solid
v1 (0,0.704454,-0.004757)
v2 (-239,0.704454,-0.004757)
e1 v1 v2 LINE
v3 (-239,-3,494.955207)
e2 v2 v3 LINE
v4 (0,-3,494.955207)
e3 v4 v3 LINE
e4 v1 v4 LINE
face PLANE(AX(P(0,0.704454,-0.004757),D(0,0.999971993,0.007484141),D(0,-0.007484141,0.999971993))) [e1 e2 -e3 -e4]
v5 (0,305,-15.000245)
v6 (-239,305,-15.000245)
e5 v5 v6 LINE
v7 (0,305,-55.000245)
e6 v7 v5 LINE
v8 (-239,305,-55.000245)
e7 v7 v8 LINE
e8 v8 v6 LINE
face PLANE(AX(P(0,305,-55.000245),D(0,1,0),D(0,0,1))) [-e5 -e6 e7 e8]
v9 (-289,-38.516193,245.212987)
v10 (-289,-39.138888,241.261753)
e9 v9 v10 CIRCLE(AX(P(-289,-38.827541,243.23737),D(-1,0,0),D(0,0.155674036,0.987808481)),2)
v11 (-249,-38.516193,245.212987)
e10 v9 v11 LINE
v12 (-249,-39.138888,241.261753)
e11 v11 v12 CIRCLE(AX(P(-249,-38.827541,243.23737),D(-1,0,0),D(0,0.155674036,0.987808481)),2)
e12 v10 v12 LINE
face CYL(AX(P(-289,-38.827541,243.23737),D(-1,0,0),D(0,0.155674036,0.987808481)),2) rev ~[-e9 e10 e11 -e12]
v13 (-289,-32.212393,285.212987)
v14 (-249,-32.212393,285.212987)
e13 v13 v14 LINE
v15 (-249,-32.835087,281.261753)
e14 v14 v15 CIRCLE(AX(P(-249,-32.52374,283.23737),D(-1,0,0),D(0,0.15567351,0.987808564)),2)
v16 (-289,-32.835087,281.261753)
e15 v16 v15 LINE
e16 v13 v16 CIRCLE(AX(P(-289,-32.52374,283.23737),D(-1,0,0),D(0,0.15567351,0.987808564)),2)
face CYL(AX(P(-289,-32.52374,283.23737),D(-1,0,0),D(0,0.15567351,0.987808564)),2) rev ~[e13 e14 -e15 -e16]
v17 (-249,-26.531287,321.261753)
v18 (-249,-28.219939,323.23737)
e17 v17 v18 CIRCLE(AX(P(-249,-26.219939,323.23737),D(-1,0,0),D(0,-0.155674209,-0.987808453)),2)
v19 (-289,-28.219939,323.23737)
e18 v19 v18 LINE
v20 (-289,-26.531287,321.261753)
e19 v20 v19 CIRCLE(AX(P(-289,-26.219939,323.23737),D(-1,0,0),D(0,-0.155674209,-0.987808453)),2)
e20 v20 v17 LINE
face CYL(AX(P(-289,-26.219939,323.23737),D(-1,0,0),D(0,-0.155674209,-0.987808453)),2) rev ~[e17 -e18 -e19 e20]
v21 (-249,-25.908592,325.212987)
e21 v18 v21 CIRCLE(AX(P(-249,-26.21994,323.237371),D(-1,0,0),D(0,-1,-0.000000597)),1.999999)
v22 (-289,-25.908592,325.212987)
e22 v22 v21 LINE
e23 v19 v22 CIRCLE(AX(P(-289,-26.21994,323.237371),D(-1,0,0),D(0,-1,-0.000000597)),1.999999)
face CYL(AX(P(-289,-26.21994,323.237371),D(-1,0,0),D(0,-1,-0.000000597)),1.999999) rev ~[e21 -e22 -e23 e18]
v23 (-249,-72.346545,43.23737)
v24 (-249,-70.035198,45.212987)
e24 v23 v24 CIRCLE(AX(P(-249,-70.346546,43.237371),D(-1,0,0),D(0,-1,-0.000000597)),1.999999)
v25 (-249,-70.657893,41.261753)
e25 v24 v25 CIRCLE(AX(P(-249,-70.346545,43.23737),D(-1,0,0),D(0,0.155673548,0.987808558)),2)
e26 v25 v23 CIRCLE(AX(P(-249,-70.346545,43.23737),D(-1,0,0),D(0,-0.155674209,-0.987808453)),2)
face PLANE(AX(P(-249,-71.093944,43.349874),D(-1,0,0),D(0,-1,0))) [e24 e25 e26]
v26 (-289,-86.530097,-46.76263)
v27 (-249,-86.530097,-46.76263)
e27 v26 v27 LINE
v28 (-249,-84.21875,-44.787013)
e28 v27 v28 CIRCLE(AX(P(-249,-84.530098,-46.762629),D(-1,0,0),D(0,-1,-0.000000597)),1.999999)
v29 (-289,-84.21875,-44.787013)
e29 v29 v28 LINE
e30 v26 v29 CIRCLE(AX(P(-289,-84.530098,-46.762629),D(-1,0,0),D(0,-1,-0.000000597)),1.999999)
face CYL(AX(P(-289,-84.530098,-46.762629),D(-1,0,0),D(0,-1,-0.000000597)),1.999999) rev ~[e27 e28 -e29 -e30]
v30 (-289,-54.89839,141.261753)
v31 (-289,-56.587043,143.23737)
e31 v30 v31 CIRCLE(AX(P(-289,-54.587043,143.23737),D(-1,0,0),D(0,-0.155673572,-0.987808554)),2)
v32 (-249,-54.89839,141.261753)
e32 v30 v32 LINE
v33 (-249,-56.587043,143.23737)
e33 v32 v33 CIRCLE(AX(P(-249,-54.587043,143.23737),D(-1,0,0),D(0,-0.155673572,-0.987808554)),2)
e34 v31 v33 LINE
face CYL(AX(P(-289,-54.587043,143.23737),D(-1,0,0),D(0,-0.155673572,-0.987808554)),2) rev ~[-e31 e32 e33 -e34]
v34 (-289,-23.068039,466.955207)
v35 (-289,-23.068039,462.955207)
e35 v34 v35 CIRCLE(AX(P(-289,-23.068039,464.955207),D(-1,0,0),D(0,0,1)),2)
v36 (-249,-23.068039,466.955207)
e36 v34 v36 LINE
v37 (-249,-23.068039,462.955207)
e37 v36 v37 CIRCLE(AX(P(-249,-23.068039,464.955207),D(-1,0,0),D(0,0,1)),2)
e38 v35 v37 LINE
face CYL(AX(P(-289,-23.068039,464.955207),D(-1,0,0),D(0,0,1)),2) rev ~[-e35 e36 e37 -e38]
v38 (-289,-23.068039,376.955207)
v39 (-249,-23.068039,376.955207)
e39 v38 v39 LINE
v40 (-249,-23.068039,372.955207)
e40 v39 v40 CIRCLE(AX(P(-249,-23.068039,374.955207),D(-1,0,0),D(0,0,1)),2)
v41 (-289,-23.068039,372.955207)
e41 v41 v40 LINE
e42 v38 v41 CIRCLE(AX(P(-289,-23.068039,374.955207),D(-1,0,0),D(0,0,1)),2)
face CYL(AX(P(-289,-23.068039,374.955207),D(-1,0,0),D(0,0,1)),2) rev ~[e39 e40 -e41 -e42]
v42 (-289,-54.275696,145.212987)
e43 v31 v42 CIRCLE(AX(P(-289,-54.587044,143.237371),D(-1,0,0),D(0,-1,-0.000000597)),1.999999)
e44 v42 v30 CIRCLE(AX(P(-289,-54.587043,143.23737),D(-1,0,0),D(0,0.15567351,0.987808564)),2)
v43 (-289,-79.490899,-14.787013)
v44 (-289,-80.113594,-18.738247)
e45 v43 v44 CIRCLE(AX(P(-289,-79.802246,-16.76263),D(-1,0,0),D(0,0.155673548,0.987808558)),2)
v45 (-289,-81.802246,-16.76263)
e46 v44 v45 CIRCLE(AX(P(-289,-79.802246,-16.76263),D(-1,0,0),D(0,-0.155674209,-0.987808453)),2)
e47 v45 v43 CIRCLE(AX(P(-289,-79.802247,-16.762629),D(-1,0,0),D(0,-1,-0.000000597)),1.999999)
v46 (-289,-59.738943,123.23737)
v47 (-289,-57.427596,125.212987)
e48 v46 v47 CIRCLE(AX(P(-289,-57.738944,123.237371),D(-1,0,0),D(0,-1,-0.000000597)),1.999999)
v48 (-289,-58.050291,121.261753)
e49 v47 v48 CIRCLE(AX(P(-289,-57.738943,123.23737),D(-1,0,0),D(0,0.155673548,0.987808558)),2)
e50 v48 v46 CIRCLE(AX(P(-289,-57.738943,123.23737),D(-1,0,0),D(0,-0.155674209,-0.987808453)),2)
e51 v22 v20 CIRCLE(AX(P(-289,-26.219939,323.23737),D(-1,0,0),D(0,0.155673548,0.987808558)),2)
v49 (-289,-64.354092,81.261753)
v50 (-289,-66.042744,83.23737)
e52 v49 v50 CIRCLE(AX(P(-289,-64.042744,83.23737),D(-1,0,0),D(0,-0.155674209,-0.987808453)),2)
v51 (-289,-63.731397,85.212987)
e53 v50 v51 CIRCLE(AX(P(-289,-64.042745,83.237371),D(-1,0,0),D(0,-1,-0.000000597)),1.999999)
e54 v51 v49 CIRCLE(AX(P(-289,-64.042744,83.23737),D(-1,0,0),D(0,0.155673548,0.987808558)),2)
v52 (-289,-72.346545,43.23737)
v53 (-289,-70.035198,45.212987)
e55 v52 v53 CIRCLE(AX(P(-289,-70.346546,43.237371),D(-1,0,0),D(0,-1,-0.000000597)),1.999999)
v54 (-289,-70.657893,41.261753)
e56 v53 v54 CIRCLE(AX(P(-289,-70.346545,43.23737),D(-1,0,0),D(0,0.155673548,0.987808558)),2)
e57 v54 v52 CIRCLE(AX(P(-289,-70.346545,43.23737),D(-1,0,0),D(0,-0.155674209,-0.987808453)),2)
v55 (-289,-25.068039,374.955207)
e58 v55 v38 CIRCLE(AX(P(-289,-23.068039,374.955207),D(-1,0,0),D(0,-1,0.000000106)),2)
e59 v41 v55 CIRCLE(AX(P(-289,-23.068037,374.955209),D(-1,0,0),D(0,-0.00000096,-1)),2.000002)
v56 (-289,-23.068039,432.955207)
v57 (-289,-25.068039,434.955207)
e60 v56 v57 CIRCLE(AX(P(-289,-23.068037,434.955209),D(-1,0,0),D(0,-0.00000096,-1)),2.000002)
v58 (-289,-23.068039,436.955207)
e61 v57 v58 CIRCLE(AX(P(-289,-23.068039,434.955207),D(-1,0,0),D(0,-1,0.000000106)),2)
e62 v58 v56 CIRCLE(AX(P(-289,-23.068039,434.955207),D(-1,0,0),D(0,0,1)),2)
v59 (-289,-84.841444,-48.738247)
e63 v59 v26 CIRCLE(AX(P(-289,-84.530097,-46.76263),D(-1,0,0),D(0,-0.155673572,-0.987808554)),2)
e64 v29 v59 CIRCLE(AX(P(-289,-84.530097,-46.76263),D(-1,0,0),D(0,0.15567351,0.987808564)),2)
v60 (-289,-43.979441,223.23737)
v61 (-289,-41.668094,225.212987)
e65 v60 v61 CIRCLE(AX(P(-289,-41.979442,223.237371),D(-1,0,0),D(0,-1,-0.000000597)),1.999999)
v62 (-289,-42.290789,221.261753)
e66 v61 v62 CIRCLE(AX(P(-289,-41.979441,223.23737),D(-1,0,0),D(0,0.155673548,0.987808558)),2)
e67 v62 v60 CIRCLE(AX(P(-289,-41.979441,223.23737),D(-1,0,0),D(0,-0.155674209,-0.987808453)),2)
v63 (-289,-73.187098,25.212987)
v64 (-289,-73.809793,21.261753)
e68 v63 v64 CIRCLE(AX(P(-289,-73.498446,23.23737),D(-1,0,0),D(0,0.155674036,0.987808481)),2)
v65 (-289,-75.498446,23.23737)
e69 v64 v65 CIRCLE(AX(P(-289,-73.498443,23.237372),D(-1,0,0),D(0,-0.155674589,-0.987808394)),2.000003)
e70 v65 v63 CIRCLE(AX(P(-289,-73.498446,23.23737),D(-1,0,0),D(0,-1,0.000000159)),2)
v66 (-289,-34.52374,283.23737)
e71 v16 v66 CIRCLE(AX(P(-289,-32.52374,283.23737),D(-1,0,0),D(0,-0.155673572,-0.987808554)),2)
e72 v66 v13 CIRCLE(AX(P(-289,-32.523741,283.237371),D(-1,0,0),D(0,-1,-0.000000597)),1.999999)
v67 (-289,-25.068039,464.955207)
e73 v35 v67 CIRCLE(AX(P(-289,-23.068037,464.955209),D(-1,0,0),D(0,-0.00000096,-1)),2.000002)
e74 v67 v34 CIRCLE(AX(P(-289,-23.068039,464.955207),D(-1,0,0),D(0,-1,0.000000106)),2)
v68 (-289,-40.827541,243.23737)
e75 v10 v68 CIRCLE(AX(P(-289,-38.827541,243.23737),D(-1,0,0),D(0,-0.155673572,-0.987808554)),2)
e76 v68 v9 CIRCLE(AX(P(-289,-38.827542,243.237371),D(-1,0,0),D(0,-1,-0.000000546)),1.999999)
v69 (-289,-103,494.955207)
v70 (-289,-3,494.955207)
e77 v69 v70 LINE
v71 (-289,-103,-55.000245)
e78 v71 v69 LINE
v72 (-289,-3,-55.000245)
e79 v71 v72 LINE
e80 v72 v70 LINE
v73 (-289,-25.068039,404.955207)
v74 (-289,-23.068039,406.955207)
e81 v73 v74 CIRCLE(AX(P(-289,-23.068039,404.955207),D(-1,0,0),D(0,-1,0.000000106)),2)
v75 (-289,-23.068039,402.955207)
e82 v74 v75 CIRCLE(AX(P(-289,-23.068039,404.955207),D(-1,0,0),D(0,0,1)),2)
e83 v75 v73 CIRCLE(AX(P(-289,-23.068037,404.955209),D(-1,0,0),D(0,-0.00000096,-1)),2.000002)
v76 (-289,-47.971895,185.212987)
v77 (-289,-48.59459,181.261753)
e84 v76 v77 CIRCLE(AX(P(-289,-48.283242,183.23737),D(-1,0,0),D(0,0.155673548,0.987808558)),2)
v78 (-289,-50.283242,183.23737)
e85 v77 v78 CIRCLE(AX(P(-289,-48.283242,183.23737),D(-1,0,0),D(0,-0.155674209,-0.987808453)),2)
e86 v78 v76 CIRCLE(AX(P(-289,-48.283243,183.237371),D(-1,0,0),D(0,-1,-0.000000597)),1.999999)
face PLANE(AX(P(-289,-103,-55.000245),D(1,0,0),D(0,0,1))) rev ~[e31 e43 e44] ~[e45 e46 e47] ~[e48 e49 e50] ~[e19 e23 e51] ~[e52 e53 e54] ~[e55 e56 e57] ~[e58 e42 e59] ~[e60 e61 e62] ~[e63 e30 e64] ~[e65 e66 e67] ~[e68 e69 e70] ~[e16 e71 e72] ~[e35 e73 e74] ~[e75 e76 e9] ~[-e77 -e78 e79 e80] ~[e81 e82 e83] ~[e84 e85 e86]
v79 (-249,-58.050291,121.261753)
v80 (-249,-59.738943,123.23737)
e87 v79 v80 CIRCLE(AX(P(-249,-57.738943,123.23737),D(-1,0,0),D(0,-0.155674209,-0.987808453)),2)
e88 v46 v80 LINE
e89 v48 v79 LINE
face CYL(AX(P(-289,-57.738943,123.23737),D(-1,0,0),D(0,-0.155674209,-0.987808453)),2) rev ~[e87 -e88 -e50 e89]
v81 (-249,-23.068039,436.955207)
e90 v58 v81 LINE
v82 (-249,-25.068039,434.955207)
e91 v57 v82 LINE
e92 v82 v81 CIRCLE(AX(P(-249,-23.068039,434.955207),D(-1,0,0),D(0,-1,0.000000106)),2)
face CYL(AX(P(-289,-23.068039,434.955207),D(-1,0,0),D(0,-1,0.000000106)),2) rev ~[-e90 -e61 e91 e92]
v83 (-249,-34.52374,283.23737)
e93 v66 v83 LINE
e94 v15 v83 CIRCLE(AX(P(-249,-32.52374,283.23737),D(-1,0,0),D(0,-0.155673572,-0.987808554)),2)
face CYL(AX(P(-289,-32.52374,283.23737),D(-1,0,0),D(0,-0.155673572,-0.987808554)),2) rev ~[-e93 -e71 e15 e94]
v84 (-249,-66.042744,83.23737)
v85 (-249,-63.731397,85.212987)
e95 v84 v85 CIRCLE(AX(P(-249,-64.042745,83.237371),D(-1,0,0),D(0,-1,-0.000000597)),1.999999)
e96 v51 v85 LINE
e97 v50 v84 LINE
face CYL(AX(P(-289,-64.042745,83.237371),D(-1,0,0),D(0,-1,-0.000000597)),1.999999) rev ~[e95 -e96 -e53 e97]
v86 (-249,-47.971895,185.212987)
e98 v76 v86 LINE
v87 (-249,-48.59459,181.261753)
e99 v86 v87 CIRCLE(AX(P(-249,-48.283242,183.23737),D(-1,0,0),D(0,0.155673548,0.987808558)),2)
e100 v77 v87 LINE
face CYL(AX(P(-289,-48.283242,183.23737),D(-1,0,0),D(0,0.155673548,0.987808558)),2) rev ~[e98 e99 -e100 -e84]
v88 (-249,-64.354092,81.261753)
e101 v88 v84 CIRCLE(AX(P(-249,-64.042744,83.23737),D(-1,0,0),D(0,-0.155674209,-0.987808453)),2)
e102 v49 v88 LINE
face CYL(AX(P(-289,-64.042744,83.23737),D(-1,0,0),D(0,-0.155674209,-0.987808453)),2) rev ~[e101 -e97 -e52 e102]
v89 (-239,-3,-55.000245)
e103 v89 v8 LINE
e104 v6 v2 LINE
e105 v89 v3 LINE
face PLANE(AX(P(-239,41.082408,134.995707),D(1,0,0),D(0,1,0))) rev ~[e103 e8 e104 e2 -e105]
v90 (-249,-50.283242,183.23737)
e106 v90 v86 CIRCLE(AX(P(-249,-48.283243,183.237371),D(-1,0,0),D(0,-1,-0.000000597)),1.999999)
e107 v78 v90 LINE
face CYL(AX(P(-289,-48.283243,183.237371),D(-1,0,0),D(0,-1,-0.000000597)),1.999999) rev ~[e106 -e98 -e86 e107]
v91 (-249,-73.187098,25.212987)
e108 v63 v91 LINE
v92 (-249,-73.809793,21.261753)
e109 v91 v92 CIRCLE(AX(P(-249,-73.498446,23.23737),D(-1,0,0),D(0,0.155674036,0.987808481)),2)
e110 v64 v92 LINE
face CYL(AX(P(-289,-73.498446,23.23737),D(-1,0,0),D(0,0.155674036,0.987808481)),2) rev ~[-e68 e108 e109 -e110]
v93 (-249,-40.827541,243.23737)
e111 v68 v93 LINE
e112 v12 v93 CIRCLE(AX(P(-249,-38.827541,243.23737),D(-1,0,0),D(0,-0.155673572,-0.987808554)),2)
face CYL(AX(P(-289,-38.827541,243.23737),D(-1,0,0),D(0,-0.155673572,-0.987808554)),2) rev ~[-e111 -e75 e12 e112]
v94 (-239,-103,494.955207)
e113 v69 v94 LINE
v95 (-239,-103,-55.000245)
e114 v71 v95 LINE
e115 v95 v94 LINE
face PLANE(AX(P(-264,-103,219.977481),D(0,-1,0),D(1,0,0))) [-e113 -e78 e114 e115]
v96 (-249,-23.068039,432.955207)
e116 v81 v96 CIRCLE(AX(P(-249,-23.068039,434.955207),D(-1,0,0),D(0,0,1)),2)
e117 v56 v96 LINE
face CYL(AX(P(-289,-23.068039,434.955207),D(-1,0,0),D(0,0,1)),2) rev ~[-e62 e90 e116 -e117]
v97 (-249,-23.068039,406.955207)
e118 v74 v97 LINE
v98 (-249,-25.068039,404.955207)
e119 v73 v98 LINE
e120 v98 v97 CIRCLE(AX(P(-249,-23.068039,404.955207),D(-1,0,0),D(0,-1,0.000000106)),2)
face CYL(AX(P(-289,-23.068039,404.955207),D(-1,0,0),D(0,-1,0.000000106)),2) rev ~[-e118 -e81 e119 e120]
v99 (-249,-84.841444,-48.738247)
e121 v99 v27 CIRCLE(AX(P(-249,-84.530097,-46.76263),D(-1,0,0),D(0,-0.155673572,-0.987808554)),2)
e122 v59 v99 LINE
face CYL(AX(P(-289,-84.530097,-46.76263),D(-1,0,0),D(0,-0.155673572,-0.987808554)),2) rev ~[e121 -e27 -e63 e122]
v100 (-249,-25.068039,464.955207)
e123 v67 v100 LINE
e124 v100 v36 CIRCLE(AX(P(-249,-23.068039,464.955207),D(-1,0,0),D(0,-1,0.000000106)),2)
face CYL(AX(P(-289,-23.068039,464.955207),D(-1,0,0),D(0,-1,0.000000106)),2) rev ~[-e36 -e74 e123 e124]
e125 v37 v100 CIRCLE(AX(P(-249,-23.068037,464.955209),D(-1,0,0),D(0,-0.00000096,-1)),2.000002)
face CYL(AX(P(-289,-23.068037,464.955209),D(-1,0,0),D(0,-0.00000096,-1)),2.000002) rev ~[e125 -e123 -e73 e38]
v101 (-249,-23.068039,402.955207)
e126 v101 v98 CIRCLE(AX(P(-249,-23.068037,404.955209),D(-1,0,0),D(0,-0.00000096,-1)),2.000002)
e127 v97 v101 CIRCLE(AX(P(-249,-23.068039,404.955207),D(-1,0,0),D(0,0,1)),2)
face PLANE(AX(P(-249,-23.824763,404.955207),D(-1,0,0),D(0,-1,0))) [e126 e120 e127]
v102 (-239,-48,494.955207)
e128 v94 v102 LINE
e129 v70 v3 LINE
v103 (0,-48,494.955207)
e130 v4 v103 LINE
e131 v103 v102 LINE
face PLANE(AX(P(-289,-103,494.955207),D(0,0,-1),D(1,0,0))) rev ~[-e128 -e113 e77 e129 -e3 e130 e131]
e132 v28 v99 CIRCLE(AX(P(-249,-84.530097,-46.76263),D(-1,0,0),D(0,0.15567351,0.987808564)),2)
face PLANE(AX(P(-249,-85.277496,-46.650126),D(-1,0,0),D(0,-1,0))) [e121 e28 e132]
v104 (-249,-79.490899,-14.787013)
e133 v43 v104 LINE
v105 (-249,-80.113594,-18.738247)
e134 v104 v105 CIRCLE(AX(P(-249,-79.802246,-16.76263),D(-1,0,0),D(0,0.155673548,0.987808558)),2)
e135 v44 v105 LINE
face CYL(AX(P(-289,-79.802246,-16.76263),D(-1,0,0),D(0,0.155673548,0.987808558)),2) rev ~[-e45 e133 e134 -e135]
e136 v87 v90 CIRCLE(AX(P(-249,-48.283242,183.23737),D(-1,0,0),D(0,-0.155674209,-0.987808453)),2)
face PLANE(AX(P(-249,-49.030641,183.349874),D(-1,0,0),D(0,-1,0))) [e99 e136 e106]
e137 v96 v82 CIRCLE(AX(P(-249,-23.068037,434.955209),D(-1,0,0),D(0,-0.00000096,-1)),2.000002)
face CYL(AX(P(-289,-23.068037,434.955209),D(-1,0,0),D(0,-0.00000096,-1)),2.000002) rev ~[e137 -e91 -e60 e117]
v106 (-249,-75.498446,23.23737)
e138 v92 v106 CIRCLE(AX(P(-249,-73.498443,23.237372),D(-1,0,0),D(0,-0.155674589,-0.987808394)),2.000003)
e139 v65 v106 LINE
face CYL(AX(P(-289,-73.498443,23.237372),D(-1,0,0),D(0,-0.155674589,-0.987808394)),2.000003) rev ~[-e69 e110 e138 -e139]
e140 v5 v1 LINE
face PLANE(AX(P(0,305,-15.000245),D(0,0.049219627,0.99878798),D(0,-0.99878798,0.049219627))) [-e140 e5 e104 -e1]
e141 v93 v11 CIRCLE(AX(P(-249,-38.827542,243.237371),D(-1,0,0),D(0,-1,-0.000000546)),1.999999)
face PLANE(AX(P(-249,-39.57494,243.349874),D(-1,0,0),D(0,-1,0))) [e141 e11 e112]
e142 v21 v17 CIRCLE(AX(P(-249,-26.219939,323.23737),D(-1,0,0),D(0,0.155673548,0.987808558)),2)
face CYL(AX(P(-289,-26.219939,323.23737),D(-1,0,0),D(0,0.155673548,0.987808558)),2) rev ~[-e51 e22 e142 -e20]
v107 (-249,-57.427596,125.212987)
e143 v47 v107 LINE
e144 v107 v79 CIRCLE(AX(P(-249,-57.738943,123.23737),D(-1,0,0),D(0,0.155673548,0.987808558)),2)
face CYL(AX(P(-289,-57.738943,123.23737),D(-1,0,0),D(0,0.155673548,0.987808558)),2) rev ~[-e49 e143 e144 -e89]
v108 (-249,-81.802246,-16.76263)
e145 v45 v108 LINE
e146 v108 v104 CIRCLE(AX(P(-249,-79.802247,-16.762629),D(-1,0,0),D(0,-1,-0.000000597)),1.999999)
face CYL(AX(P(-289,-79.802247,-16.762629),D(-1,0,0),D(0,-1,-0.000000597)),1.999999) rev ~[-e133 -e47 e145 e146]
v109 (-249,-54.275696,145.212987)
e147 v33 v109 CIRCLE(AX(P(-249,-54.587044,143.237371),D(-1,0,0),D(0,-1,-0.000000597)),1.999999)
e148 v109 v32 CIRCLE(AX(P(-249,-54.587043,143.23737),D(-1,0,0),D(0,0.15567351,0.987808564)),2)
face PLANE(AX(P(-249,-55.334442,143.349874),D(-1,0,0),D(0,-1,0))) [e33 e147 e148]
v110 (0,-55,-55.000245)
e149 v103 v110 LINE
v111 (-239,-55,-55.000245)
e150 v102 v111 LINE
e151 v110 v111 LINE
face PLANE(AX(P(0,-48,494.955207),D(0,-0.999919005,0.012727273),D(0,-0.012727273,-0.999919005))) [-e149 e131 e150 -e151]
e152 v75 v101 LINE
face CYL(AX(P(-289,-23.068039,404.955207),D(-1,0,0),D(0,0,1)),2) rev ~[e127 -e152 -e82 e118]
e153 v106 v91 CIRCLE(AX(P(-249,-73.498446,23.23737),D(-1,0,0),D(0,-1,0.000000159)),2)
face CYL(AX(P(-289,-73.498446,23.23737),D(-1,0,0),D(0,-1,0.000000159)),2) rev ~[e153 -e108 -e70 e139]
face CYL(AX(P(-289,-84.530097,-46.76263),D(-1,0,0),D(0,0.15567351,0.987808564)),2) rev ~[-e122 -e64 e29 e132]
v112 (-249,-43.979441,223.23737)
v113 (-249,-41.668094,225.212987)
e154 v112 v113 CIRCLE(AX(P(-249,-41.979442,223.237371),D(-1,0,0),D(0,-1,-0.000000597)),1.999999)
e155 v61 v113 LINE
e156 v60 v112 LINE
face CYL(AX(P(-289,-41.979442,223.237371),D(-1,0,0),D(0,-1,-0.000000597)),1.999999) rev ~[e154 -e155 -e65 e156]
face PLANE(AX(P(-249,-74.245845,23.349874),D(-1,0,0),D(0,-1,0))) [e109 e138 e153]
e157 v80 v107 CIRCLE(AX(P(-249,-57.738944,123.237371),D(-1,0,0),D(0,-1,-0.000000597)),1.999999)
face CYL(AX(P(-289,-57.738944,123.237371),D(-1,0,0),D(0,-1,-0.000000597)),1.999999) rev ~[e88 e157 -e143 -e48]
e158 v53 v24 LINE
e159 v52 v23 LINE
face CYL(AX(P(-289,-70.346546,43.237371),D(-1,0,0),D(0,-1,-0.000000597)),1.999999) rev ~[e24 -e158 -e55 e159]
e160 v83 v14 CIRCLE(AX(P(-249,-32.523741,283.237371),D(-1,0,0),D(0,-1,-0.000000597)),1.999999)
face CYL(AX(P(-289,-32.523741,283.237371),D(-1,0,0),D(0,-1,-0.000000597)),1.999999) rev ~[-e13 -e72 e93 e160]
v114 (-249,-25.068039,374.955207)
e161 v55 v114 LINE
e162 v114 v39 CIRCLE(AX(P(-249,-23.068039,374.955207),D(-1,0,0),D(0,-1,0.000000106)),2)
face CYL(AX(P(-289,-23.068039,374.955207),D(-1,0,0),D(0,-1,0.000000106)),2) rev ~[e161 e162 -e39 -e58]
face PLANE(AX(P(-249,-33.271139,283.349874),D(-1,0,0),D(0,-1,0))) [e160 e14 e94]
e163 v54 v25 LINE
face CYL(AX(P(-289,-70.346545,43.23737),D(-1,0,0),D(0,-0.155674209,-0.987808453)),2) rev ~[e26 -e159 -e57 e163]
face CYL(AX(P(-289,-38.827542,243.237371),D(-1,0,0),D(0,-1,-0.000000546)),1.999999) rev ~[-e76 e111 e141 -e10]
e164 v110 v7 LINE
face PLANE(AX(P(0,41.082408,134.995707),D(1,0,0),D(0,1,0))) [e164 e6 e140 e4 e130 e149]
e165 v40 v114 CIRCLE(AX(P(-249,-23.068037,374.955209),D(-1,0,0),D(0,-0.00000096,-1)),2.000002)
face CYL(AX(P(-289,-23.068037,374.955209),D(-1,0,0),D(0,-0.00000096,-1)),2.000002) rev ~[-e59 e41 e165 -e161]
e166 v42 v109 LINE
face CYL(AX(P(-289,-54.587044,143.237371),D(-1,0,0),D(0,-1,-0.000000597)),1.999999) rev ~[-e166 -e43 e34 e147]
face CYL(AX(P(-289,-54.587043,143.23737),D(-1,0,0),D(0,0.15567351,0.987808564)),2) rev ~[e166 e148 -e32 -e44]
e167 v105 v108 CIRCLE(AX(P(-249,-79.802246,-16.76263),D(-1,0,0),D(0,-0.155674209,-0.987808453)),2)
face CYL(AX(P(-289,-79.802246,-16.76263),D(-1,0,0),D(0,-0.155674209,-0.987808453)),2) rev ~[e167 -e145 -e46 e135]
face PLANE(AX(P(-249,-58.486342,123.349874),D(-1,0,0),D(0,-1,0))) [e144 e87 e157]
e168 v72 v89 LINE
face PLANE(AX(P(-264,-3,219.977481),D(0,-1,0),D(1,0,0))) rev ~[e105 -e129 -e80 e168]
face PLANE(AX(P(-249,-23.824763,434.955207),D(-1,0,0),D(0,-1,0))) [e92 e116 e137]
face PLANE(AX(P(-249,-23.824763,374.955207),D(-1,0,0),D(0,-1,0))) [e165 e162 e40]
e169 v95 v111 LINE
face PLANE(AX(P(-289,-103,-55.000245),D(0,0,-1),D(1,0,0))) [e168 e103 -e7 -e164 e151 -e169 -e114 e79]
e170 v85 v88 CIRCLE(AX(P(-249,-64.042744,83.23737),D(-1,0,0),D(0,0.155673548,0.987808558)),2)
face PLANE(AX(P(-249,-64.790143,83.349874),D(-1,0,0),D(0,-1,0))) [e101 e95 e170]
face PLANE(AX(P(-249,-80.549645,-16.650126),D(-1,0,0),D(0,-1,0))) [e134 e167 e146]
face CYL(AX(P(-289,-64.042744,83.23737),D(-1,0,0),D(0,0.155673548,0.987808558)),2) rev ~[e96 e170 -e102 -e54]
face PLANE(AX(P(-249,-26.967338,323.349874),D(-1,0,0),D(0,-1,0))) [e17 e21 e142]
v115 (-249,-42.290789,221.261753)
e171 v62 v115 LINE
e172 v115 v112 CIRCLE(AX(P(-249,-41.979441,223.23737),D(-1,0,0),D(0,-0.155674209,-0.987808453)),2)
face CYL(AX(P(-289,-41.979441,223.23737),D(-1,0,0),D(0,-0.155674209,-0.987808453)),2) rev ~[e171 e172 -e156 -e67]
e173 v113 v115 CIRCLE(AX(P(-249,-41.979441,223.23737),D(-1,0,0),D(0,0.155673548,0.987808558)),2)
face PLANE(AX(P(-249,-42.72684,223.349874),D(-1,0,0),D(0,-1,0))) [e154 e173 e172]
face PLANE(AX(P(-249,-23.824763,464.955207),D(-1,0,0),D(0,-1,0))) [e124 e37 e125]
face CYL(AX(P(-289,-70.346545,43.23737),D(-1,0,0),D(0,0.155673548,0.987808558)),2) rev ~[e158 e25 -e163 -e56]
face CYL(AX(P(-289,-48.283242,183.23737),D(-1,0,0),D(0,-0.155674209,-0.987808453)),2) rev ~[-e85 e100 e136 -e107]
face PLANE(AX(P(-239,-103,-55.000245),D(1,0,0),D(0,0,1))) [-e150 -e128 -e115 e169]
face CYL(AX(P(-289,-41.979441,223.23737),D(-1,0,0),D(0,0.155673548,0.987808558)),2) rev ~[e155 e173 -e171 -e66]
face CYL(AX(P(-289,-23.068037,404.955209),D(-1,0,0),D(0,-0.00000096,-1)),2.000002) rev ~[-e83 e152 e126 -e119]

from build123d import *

# Parameters (mm, degrees)
F1_DEPTH = 239
F3_W     = 50
F3_H     = 549.955452
F4_DEPTH = 100
F6_DEPTH = 40


with BuildPart() as f1:
    # F0 (on Right) → F1 (new body)
    with BuildSketch(Plane.YZ):
        Polygon((305, -15.000245), (0.704454, -0.004757), (-3, 494.955207), (-48, 494.955207), (-55, -55.000245), (0, -55.000245), (305, -55.000245), align=None)
    extrude(amount=-F1_DEPTH)

    # F3 (on offset) → F4 (join)
    with BuildSketch(Plane.XZ.offset(103)):
        with Locations((-264, 219.977481)):
            Rectangle(F3_W, F3_H)
    extrude(amount=-F4_DEPTH)

    # F5 (on face) → F6 (cut)
    with BuildSketch(Plane(origin=(-289, 0, 0), x_dir=(0, -1, 0), z_dir=(-1, 0, 0))):
        with BuildLine():
            ThreePointArc((25.068039, 464.955207), (24.482252, 466.369421), (23.068039, 466.955207))
            Line((23.068039, 466.955207), (23.068039, 462.955207))
            ThreePointArc((23.068039, 462.955207), (24.482252, 463.540994), (25.068039, 464.955207))
        make_face()
        with BuildLine():
            ThreePointArc((86.530097, -46.76263), (85.829579, -45.242318), (84.21875, -44.787013))
            Line((84.21875, -44.787013), (84.841444, -48.738247))
            ThreePointArc((84.841444, -48.738247), (86.050409, -48.062111), (86.530097, -46.76263))
        make_face()
        with BuildLine():
            Line((84.841444, -48.738247), (84.21875, -44.787013))
            ThreePointArc((84.21875, -44.787013), (82.55448, -47.073977), (84.841444, -48.738247))
        make_face()
        with BuildLine():
            ThreePointArc((81.802246, -16.76263), (81.101728, -15.242318), (79.490899, -14.787013))
            Line((79.490899, -14.787013), (80.113594, -18.738247))
            ThreePointArc((80.113594, -18.738247), (81.322558, -18.062111), (81.802246, -16.76263))
        make_face()
        with BuildLine():
            Line((80.113594, -18.738247), (79.490899, -14.787013))
            ThreePointArc((79.490899, -14.787013), (77.826629, -17.073977), (80.113594, -18.738247))
        make_face()
        with BuildLine():
            ThreePointArc((75.498446, 23.23737), (74.797927, 24.757682), (73.187098, 25.212987))
            Line((73.187098, 25.212987), (73.809793, 21.261753))
            ThreePointArc((73.809793, 21.261753), (75.018757, 21.937889), (75.498446, 23.23737))
        make_face()
        with BuildLine():
            Line((73.809793, 21.261753), (73.187098, 25.212987))
            ThreePointArc((73.187098, 25.212987), (71.522829, 22.926023), (73.809793, 21.261753))
        make_face()
        with BuildLine():
            ThreePointArc((72.346545, 43.23737), (71.646027, 44.757682), (70.035198, 45.212987))
            Line((70.035198, 45.212987), (70.657893, 41.261753))
            ThreePointArc((70.657893, 41.261753), (71.866857, 41.937889), (72.346545, 43.23737))
        make_face()
        with BuildLine():
            Line((70.657893, 41.261753), (70.035198, 45.212987))
            ThreePointArc((70.035198, 45.212987), (68.370928, 42.926023), (70.657893, 41.261753))
        make_face()
        with BuildLine():
            ThreePointArc((66.042744, 83.23737), (65.342226, 84.757682), (63.731397, 85.212987))
            Line((63.731397, 85.212987), (64.354092, 81.261753))
            ThreePointArc((64.354092, 81.261753), (65.563056, 81.937889), (66.042744, 83.23737))
        make_face()
        with BuildLine():
            Line((64.354092, 81.261753), (63.731397, 85.212987))
            ThreePointArc((63.731397, 85.212987), (62.067127, 82.926023), (64.354092, 81.261753))
        make_face()
        with BuildLine():
            ThreePointArc((59.738943, 123.23737), (59.038425, 124.757682), (57.427596, 125.212987))
            Line((57.427596, 125.212987), (58.050291, 121.261753))
            ThreePointArc((58.050291, 121.261753), (59.259255, 121.937889), (59.738943, 123.23737))
        make_face()
        with BuildLine():
            Line((58.050291, 121.261753), (57.427596, 125.212987))
            ThreePointArc((57.427596, 125.212987), (55.763326, 122.926023), (58.050291, 121.261753))
        make_face()
        with BuildLine():
            ThreePointArc((56.587043, 143.23737), (55.886525, 144.757682), (54.275696, 145.212987))
            Line((54.275696, 145.212987), (54.89839, 141.261753))
            ThreePointArc((54.89839, 141.261753), (56.107355, 141.937889), (56.587043, 143.23737))
        make_face()
        with BuildLine():
            Line((54.89839, 141.261753), (54.275696, 145.212987))
            ThreePointArc((54.275696, 145.212987), (52.611426, 142.926023), (54.89839, 141.261753))
        make_face()
        with BuildLine():
            ThreePointArc((50.283242, 183.23737), (49.582724, 184.757682), (47.971895, 185.212987))
            Line((47.971895, 185.212987), (48.59459, 181.261753))
            ThreePointArc((48.59459, 181.261753), (49.803554, 181.937889), (50.283242, 183.23737))
        make_face()
        with BuildLine():
            Line((48.59459, 181.261753), (47.971895, 185.212987))
            ThreePointArc((47.971895, 185.212987), (46.307625, 182.926023), (48.59459, 181.261753))
        make_face()
        with BuildLine():
            ThreePointArc((43.979441, 223.23737), (43.278923, 224.757682), (41.668094, 225.212987))
            Line((41.668094, 225.212987), (42.290789, 221.261753))
            ThreePointArc((42.290789, 221.261753), (43.499753, 221.937889), (43.979441, 223.23737))
        make_face()
        with BuildLine():
            Line((42.290789, 221.261753), (41.668094, 225.212987))
            ThreePointArc((41.668094, 225.212987), (40.003824, 222.926023), (42.290789, 221.261753))
        make_face()
        with BuildLine():
            ThreePointArc((40.827541, 243.23737), (40.127023, 244.757682), (38.516193, 245.212987))
            Line((38.516193, 245.212987), (39.138888, 241.261753))
            ThreePointArc((39.138888, 241.261753), (40.347853, 241.937889), (40.827541, 243.23737))
        make_face()
        with BuildLine():
            Line((39.138888, 241.261753), (38.516193, 245.212987))
            ThreePointArc((38.516193, 245.212987), (36.851924, 242.926023), (39.138888, 241.261753))
        make_face()
        with BuildLine():
            ThreePointArc((34.52374, 283.23737), (33.823222, 284.757682), (32.212393, 285.212987))
            Line((32.212393, 285.212987), (32.835087, 281.261753))
            ThreePointArc((32.835087, 281.261753), (34.044052, 281.937889), (34.52374, 283.23737))
        make_face()
        with BuildLine():
            Line((32.835087, 281.261753), (32.212393, 285.212987))
            ThreePointArc((32.212393, 285.212987), (30.548123, 282.926023), (32.835087, 281.261753))
        make_face()
        with BuildLine():
            ThreePointArc((28.219939, 323.23737), (27.519421, 324.757682), (25.908592, 325.212987))
            Line((25.908592, 325.212987), (26.531287, 321.261753))
            ThreePointArc((26.531287, 321.261753), (27.740251, 321.937889), (28.219939, 323.23737))
        make_face()
        with BuildLine():
            Line((26.531287, 321.261753), (25.908592, 325.212987))
            ThreePointArc((25.908592, 325.212987), (24.244322, 322.926023), (26.531287, 321.261753))
        make_face()
        with BuildLine():
            ThreePointArc((25.068039, 374.955207), (24.482252, 376.369421), (23.068039, 376.955207))
            Line((23.068039, 376.955207), (23.068039, 372.955207))
            ThreePointArc((23.068039, 372.955207), (24.482252, 373.540994), (25.068039, 374.955207))
        make_face()
        with BuildLine():
            Line((23.068039, 372.955207), (23.068039, 376.955207))
            ThreePointArc((23.068039, 376.955207), (21.068039, 374.955207), (23.068039, 372.955207))
        make_face()
        with BuildLine():
            ThreePointArc((25.068039, 404.955207), (24.482252, 406.369421), (23.068039, 406.955207))
            Line((23.068039, 406.955207), (23.068039, 402.955207))
            ThreePointArc((23.068039, 402.955207), (24.482252, 403.540994), (25.068039, 404.955207))
        make_face()
        with BuildLine():
            Line((23.068039, 402.955207), (23.068039, 406.955207))
            ThreePointArc((23.068039, 406.955207), (21.068039, 404.955207), (23.068039, 402.955207))
        make_face()
        with BuildLine():
            ThreePointArc((25.068039, 434.955207), (24.482252, 436.369421), (23.068039, 436.955207))
            Line((23.068039, 436.955207), (23.068039, 432.955207))
            ThreePointArc((23.068039, 432.955207), (24.482252, 433.540994), (25.068039, 434.955207))
        make_face()
        with BuildLine():
            Line((23.068039, 432.955207), (23.068039, 436.955207))
            ThreePointArc((23.068039, 436.955207), (21.068039, 434.955207), (23.068039, 432.955207))
        make_face()
        with BuildLine():
            Line((23.068039, 462.955207), (23.068039, 466.955207))
            ThreePointArc((23.068039, 466.955207), (21.068039, 464.955207), (23.068039, 462.955207))
        make_face()
    extrude(amount=-F6_DEPTH, mode=Mode.SUBTRACT)


solid = f1.part
